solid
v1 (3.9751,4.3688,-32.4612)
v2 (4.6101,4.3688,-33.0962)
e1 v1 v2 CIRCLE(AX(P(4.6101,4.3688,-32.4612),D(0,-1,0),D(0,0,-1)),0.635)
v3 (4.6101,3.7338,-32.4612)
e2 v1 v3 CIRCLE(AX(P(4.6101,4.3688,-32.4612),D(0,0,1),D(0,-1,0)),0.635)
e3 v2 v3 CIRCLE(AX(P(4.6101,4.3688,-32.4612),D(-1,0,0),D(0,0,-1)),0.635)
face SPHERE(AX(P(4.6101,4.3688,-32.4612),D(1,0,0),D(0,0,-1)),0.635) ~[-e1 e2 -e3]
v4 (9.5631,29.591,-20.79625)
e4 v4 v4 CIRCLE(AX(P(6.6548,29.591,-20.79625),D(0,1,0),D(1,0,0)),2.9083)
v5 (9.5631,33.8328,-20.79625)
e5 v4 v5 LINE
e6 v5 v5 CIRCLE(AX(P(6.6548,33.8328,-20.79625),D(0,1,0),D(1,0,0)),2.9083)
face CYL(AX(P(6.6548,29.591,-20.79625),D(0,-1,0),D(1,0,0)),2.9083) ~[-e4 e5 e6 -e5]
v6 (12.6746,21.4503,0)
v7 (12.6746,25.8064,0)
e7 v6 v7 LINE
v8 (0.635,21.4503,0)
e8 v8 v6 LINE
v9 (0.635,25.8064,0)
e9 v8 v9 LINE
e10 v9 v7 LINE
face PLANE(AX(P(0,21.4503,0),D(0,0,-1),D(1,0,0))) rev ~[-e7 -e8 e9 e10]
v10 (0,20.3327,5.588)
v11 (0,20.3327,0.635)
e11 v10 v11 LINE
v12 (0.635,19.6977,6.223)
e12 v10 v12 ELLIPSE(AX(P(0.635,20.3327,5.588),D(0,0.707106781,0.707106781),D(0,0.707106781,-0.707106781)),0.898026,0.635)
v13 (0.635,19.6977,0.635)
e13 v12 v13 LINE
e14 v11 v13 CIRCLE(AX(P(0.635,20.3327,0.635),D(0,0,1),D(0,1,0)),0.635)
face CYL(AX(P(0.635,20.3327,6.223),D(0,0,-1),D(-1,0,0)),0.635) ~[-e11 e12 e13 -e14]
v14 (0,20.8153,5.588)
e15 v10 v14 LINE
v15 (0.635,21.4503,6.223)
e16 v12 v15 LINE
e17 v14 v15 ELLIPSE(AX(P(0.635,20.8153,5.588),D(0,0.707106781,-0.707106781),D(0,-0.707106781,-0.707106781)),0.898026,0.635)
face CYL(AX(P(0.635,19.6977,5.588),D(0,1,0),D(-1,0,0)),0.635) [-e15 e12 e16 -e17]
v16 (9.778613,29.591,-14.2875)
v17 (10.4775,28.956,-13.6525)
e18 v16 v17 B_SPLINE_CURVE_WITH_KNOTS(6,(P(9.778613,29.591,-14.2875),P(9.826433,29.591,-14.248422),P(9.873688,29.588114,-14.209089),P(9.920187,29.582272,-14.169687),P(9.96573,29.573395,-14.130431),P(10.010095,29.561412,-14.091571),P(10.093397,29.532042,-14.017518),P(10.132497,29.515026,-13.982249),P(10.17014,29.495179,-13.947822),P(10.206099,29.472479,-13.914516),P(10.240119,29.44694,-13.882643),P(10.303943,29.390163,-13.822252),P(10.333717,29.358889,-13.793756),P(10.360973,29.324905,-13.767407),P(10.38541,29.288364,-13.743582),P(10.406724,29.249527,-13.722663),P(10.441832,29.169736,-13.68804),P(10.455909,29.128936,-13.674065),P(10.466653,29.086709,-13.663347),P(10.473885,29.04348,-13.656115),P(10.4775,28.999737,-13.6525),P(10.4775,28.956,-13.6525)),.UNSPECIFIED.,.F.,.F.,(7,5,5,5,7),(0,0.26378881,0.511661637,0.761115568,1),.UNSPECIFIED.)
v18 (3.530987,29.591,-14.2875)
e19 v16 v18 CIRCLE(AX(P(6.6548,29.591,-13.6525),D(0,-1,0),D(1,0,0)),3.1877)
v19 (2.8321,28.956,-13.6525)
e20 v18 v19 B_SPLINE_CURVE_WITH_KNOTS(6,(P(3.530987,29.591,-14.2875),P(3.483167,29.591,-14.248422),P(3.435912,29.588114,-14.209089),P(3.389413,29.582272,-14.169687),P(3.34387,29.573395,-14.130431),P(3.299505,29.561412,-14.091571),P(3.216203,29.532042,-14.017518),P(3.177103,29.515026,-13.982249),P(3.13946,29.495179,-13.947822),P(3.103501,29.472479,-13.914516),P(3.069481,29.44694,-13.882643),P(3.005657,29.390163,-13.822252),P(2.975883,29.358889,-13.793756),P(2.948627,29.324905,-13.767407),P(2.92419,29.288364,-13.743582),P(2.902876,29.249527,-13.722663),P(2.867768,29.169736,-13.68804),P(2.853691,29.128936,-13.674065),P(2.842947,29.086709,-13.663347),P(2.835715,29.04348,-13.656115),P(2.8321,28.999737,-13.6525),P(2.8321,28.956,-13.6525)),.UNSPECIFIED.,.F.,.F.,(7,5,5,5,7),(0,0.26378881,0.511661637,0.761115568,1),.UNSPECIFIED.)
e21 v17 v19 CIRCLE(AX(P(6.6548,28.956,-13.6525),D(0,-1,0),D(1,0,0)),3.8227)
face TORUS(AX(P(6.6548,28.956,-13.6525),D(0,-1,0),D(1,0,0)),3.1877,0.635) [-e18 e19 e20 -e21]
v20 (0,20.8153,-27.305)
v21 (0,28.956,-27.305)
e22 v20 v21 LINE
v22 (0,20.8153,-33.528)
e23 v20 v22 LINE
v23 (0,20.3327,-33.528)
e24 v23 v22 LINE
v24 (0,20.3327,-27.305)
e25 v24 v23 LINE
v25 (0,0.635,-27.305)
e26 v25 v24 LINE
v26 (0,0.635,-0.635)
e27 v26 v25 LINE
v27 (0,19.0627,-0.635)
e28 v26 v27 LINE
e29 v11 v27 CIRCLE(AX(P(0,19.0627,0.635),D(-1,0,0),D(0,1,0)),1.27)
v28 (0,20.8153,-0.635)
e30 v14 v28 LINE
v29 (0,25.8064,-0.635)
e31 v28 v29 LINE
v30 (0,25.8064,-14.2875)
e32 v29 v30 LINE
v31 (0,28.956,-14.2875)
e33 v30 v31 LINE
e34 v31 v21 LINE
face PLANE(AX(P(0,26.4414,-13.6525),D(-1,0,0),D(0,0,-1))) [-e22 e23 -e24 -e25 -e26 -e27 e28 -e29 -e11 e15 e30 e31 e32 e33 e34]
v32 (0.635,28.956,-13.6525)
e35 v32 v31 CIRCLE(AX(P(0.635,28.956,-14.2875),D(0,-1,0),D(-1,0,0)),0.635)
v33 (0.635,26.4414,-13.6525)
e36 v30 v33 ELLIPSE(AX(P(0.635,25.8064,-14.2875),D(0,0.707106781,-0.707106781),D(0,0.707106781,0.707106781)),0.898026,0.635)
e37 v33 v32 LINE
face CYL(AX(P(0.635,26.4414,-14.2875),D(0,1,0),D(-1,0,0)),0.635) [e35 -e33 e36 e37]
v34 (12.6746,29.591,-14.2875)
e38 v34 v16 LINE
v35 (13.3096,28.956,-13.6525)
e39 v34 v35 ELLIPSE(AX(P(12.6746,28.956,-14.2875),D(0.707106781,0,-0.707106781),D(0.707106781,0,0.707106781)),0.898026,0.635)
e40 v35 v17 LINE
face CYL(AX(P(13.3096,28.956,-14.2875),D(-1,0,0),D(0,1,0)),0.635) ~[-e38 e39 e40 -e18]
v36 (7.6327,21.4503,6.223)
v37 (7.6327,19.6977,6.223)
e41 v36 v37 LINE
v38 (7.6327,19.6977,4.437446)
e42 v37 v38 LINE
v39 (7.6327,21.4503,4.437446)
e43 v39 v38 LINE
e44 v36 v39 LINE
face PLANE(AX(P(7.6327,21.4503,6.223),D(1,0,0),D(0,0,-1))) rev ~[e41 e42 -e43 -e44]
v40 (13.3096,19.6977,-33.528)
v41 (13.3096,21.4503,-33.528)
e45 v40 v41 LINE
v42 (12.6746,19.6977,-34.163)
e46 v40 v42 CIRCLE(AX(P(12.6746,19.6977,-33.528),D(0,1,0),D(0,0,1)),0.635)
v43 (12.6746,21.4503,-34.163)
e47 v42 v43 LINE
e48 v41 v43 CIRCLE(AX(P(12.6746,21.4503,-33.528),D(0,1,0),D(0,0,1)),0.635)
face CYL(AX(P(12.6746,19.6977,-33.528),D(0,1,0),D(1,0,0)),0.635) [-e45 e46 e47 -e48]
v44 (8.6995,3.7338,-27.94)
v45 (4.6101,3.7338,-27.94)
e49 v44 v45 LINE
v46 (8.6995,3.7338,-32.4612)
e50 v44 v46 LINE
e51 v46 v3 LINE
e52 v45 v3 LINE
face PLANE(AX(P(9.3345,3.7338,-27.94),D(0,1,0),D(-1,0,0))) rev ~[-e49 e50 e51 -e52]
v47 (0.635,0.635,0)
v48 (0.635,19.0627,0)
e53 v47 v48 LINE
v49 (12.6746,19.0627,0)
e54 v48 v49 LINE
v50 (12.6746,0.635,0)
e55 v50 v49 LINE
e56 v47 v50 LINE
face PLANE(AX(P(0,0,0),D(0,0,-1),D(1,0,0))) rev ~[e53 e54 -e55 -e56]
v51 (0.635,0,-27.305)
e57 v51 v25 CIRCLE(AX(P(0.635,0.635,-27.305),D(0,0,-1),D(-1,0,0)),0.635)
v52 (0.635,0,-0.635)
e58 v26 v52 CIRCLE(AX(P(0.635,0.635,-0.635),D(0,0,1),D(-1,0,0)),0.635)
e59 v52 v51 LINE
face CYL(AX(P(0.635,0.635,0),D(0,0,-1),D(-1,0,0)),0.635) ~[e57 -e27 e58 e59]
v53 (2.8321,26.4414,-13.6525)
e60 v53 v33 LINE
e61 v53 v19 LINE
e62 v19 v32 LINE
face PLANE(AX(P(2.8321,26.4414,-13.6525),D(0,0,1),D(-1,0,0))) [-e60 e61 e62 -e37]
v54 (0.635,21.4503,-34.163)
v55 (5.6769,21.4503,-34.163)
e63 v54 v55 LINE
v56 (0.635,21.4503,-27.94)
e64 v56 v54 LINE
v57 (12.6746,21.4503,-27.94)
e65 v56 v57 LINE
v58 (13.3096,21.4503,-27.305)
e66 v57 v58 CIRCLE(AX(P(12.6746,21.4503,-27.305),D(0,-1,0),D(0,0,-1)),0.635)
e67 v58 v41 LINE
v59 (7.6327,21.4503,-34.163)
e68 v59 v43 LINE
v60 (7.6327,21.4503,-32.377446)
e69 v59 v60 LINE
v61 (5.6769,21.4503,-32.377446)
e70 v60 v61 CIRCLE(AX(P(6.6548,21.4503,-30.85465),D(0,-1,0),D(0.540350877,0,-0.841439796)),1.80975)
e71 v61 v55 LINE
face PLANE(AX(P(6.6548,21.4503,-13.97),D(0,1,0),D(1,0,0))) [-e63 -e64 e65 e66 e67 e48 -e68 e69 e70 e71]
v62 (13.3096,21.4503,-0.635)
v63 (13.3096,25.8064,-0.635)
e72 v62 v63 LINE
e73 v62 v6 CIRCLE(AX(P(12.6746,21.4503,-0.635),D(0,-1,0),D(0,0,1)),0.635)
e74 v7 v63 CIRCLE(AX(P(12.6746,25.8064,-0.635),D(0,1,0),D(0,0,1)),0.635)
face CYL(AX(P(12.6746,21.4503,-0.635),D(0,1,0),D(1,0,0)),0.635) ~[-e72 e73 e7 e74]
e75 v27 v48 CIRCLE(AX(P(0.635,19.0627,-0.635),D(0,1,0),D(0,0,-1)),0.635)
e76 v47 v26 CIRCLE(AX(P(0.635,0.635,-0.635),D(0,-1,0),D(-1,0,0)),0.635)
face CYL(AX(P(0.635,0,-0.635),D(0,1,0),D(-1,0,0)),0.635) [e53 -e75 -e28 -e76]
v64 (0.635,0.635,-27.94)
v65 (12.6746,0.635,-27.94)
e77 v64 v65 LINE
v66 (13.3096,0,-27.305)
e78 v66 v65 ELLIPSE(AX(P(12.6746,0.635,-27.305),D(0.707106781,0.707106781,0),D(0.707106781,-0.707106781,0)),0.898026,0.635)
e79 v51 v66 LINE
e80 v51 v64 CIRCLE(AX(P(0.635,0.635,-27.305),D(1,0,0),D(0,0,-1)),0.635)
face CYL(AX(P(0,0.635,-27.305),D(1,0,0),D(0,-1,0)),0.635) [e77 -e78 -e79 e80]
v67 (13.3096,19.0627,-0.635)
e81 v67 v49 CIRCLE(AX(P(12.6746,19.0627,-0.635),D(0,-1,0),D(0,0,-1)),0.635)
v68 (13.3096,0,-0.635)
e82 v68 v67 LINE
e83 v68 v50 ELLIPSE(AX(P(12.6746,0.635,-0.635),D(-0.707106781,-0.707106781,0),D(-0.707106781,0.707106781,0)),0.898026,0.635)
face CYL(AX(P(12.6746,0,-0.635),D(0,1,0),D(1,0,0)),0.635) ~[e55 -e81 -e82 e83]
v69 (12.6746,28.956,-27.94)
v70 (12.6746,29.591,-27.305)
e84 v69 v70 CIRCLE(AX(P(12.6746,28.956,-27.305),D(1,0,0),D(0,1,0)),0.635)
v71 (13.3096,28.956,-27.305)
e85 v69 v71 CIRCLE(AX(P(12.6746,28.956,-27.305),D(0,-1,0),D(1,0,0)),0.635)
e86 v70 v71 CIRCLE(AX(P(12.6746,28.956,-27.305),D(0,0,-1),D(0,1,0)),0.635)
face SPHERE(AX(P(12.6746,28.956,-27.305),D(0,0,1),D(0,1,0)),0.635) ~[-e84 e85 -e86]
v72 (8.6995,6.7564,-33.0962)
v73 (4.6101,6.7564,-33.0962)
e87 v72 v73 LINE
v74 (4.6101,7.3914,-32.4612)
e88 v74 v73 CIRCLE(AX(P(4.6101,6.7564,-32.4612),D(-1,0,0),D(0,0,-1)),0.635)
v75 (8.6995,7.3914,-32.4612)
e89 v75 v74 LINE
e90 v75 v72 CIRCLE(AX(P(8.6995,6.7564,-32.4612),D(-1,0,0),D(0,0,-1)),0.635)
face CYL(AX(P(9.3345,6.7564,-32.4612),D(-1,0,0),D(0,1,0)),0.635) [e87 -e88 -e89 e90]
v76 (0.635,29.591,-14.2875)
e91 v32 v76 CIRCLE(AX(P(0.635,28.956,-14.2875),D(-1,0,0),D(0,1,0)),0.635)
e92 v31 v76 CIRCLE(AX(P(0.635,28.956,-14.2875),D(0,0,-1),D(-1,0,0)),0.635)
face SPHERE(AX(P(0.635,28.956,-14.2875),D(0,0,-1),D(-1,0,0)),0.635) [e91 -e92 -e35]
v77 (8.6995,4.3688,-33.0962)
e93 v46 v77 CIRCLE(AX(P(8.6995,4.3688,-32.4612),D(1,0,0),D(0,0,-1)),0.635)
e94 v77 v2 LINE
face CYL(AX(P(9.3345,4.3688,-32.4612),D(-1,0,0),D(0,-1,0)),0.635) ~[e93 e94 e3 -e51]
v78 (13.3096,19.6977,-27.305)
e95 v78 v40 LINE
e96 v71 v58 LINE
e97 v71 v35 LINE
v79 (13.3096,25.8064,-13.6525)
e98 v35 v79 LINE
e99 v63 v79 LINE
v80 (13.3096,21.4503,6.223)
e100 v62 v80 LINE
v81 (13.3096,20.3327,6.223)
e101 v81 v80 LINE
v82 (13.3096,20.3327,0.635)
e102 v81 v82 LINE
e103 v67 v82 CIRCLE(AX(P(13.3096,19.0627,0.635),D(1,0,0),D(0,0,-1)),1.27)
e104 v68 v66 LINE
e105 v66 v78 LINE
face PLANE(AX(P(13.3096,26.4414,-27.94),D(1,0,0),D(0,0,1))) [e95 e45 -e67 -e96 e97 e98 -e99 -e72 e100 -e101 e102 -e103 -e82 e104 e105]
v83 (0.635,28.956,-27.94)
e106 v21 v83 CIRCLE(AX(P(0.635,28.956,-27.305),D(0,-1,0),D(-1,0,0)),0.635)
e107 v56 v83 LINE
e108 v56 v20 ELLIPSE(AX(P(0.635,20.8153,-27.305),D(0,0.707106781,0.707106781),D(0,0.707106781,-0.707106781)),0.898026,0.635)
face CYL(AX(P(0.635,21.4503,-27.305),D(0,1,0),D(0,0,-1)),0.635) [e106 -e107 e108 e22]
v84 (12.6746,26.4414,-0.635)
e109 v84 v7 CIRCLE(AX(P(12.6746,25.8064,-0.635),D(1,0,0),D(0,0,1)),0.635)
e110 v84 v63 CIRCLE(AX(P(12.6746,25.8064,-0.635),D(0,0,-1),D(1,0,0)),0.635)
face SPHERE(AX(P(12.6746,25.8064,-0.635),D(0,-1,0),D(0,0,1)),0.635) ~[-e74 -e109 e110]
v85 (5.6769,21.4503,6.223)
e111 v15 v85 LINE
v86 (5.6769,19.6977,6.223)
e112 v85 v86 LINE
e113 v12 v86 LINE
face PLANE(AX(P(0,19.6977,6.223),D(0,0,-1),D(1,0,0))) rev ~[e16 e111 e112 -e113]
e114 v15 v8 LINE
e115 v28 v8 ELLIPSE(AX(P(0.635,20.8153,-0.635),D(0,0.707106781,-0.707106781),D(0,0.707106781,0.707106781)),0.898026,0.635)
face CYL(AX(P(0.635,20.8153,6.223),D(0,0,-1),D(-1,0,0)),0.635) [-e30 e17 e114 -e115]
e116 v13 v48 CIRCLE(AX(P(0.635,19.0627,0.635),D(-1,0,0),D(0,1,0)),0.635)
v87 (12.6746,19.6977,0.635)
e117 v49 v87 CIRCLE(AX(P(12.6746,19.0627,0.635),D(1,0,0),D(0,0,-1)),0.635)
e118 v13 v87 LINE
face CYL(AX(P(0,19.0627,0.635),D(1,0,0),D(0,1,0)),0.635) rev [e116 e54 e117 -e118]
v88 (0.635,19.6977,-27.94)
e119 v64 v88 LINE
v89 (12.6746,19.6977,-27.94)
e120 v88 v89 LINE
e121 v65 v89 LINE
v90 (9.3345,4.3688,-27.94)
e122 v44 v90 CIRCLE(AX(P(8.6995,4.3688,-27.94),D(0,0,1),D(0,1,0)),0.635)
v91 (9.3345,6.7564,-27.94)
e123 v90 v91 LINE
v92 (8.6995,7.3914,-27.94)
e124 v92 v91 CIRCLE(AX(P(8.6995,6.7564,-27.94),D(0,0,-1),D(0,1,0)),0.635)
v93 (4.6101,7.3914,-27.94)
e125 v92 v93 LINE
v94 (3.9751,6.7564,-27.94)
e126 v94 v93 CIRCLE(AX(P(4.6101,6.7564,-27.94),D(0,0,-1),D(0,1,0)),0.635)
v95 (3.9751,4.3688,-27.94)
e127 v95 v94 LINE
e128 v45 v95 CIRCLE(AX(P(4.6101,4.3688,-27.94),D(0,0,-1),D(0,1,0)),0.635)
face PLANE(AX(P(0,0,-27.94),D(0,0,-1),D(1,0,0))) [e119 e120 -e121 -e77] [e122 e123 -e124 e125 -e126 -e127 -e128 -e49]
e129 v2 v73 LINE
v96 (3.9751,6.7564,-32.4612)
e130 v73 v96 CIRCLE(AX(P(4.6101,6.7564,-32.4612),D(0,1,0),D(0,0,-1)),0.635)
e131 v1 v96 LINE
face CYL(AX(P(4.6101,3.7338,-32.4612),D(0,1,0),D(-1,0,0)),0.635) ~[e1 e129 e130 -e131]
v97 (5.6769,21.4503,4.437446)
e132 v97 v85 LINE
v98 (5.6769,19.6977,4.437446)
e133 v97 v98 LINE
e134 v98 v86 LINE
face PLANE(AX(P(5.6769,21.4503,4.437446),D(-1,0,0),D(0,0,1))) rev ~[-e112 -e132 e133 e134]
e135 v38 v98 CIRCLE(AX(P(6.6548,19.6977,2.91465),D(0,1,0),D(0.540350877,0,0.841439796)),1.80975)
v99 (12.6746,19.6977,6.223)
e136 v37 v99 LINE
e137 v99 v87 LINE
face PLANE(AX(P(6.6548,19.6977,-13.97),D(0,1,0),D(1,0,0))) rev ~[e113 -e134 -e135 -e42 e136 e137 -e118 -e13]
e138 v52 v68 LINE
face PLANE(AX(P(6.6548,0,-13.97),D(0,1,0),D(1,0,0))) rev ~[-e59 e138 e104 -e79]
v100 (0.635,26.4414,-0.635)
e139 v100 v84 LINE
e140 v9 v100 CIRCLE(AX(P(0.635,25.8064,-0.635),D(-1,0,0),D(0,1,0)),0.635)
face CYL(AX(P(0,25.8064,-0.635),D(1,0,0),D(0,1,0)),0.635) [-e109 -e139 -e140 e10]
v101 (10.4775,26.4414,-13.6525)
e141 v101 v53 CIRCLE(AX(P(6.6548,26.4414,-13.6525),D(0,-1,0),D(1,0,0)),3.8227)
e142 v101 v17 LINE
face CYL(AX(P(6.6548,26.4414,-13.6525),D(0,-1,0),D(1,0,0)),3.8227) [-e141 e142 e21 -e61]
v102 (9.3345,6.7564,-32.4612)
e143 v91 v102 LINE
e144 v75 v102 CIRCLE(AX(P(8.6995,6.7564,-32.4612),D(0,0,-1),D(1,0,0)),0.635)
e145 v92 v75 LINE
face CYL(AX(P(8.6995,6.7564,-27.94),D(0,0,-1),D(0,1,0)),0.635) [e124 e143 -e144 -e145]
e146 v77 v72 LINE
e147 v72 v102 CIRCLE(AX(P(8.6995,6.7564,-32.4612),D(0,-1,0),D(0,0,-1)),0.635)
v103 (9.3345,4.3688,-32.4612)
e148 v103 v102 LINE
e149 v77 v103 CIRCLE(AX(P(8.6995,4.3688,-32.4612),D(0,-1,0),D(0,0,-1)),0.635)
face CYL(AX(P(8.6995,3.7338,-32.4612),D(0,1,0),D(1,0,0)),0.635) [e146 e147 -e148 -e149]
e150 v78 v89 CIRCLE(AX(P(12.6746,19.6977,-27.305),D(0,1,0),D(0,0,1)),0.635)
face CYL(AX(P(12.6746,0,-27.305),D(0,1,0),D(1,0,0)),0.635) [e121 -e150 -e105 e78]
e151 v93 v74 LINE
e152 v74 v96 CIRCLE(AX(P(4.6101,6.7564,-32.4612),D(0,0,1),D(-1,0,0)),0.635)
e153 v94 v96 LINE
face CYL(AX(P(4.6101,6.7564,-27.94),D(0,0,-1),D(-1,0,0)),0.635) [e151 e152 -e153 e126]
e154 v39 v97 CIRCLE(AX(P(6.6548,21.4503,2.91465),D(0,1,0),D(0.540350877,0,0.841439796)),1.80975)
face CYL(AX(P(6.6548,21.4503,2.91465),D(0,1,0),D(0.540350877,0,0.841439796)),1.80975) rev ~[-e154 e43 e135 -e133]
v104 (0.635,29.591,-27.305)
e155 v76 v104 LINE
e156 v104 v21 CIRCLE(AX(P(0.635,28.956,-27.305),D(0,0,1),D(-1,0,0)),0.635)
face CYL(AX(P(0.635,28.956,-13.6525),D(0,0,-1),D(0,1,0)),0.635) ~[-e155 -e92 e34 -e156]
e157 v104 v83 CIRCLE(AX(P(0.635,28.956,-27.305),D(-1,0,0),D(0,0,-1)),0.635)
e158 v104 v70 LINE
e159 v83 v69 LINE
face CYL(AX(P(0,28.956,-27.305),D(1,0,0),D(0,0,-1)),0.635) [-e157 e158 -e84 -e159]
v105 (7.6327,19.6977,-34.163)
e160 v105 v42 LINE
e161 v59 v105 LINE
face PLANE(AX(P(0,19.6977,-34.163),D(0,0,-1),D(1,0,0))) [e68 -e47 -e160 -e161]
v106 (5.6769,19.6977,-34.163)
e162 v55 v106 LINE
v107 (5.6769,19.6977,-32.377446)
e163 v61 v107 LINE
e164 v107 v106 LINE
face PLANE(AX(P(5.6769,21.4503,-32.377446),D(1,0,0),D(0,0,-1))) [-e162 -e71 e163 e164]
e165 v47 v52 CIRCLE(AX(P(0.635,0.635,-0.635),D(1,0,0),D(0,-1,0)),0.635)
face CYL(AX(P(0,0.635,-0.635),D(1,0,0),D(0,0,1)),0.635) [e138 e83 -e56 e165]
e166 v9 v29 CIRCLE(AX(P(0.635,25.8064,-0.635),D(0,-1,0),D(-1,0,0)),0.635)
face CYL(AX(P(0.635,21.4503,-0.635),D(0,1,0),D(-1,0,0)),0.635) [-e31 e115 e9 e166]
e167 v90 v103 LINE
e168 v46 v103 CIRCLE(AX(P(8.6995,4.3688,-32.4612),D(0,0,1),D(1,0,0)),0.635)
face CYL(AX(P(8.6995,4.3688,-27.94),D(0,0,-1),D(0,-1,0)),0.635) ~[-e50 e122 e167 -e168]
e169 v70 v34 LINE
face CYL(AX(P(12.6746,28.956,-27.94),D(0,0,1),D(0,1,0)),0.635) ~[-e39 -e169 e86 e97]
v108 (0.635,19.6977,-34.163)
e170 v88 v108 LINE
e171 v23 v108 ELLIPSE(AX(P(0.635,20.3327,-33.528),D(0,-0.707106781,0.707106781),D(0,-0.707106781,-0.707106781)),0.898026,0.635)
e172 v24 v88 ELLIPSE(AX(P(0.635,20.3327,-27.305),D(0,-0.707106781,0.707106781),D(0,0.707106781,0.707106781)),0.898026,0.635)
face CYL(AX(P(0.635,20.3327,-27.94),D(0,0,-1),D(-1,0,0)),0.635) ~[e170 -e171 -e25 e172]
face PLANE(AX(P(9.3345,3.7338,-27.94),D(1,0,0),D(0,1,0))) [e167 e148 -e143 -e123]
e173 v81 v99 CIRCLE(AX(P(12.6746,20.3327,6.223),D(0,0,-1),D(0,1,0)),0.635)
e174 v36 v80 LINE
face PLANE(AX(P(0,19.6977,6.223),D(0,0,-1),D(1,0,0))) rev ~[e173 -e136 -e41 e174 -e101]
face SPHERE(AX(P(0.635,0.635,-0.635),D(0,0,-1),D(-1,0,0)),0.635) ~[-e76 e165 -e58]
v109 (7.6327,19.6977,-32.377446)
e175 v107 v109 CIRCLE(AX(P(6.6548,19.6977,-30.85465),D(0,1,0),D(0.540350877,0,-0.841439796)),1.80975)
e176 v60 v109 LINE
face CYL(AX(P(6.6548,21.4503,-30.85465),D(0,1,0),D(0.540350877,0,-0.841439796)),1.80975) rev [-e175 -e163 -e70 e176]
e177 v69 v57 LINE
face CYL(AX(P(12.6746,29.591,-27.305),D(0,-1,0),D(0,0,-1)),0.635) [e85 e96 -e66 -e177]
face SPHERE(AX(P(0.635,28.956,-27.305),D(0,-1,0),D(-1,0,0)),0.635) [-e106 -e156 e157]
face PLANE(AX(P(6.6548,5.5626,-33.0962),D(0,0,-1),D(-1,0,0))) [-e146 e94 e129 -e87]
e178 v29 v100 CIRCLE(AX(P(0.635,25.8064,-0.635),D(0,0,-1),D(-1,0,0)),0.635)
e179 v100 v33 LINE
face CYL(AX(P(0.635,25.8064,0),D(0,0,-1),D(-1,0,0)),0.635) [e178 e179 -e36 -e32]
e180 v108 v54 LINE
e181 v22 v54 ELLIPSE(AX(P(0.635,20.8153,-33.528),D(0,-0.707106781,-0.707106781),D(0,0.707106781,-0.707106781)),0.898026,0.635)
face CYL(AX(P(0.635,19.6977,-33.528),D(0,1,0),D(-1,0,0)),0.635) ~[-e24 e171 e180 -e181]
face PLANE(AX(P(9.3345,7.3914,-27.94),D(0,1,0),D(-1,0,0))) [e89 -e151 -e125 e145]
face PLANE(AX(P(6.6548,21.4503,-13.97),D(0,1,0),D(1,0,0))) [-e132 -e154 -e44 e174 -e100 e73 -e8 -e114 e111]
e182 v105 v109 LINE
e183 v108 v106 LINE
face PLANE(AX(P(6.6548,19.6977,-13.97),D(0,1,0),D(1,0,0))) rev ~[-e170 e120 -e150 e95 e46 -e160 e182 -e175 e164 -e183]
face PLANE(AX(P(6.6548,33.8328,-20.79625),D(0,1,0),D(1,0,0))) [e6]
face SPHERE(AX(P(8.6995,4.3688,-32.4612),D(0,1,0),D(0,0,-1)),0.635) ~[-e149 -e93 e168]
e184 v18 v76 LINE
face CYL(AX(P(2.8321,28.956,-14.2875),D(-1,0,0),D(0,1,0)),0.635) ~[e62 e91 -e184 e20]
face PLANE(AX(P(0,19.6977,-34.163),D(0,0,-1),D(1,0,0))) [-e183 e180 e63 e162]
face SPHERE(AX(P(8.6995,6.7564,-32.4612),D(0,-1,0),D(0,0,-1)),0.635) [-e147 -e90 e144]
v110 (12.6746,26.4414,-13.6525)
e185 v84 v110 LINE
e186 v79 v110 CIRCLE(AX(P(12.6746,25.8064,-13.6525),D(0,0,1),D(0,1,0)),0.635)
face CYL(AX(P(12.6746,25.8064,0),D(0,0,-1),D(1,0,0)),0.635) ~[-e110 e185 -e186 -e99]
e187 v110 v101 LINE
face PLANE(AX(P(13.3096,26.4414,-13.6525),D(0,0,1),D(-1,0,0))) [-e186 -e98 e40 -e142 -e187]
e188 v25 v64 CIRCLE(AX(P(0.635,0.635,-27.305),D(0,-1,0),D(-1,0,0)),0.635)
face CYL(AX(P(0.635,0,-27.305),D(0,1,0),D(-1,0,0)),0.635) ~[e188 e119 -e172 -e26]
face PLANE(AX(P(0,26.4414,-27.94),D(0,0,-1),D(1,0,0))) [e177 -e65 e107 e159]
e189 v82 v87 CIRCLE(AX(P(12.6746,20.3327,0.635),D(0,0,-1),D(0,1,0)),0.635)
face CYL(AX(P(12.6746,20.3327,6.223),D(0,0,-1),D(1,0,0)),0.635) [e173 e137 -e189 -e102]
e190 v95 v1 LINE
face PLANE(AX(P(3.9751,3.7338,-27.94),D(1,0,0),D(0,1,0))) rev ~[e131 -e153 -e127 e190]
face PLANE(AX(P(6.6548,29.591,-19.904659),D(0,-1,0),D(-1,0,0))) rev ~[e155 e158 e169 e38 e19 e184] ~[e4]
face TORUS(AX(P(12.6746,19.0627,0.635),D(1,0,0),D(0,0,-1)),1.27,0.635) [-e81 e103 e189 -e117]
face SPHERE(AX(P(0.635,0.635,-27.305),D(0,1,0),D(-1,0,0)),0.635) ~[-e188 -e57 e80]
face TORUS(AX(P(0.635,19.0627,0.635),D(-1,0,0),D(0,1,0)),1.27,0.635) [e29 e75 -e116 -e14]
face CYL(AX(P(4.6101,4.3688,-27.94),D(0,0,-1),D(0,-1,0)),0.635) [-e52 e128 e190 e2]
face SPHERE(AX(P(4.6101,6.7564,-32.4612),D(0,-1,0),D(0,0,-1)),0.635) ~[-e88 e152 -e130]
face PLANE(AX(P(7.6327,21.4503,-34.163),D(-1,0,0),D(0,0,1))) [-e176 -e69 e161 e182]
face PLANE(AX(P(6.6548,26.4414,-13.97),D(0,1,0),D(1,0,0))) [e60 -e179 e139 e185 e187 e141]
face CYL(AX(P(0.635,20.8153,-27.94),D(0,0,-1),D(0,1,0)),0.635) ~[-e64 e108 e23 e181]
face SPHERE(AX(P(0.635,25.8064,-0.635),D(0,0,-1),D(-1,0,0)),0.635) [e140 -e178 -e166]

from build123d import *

# Parameters (mm, degrees)
BASE_SKETCH_W           = 13.3096
BASE_SKETCH_H           = 27.94
BASE_DEPTH              = 19.6977
MOUNTING_POINT_SKETCH_W = 13.3096
MOUNTING_POINT_SKETCH_H = 40.386
MOUNTING_POINT_DEPTH    = 1.7526
MOUNTING_HOLES_DEPTH    = 22.4503
MIDDLE_SKETCH_W         = 13.3096
MIDDLE_SKETCH_H         = 27.94
MIDDLE_DEPTH            = 4.9911
TOP_EXTRUDE_DEPTH       = 3.1496
GEAR_SKETCH_R           = 2.9083
GEAR_DEPTH              = 4.2418
SERVO_CABLE_SKETCH_W    = 5.3594
SERVO_CABLE_SKETCH_H    = 3.6576
SEVO_CABLE_DEPTH        = 5.1562
FILLET1_R               = 0.635


with BuildPart() as part:
    # Base Sketch → Base (new body)
    with BuildSketch(Plane(origin=(0, 0, 0), x_dir=(1, 0, 0), z_dir=(0, 1, 0))):
        with Locations((6.6548, 13.97)):
            Rectangle(BASE_SKETCH_W, BASE_SKETCH_H)
    extrude(amount=BASE_DEPTH)

    # Mounting Point Sketch → Mounting Point (add)
    with BuildSketch(Plane(origin=(0, 19.6977, 0), x_dir=(1, 0, 0), z_dir=(0, 1, 0))):
        with Locations((6.6548, 13.97)):
            Rectangle(MOUNTING_POINT_SKETCH_W, MOUNTING_POINT_SKETCH_H)
    extrude(amount=MOUNTING_POINT_DEPTH)

    # Mounting Holes Sketch → Mounting Holes (cut, through all)
    with BuildSketch(Plane(origin=(0, 21.4503, 0), x_dir=(1, 0, 0), z_dir=(0, 1, 0))):
        with BuildLine():
            Line((5.6769, 34.163), (7.6327, 34.163))
            Line((7.6327, 34.163), (7.6327, 32.37744567))
            ThreePointArc((7.6327, 32.37744567), (6.6548, 29.0449), (5.6769, 32.37744567))
            Line((5.6769, 32.37744567), (5.6769, 34.163))
        make_face()
        with BuildLine():
            Line((5.6769, -6.223), (7.6327, -6.223))
            Line((7.6327, -6.223), (7.6327, -4.43744567))
            ThreePointArc((7.6327, -4.43744567), (6.6548, -1.1049), (5.6769, -4.43744567))
            Line((5.6769, -4.43744567), (5.6769, -6.223))
        make_face()
    extrude(amount=-MOUNTING_HOLES_DEPTH, mode=Mode.SUBTRACT)

    # Middle Sketch → Middle (add)
    with BuildSketch(Plane(origin=(0, 21.4503, 0), x_dir=(1, 0, 0), z_dir=(0, 1, 0))):
        with Locations((6.6548, 13.97)):
            Rectangle(MIDDLE_SKETCH_W, MIDDLE_SKETCH_H)
    extrude(amount=MIDDLE_DEPTH)

    # Top Sketch → Top extrude (add)
    with BuildSketch(Plane(origin=(0, 26.4414, 0), x_dir=(1, 0, 0), z_dir=(0, 1, 0))):
        with BuildLine():
            Line((0, 27.94), (13.3096, 27.94))
            Line((13.3096, 27.94), (13.3096, 13.6525))
            Line((13.3096, 13.6525), (10.4775, 13.6525))
            ThreePointArc((10.4775, 13.6525), (6.6548, 9.8298), (2.8321, 13.6525))
            Line((2.8321, 13.6525), (0, 13.6525))
            Line((0, 13.6525), (0, 27.94))
        make_face()
    extrude(amount=TOP_EXTRUDE_DEPTH)

    # Gear Sketch → Gear (add)
    with BuildSketch(Plane(origin=(0, 29.591, 0), x_dir=(1, 0, 0), z_dir=(0, 1, 0))):
        with Locations((6.6548, 20.79625)):
            Circle(GEAR_SKETCH_R)
    extrude(amount=GEAR_DEPTH)

    # Servo Cable Sketch → Sevo Cable (add)
    with BuildSketch(Plane(origin=(0, 0, -27.94), x_dir=(-1, 0, 0), z_dir=(0, 0, -1))):
        with Locations((-6.6548, 5.5626)):
            Rectangle(SERVO_CABLE_SKETCH_W, SERVO_CABLE_SKETCH_H)
    extrude(amount=SEVO_CABLE_DEPTH)

    # Fillet1
    fillet1_edges = [part.edges().sort_by_distance(p)[0] for p in [
        (13.3096, 19.6977, 3.1115),
        (0, 9.84885, -27.94),
        (0, 19.6977, -31.0515),
        (0, 20.574, -34.163),
        (0, 21.4503, -31.0515),
        (0, 25.52065, -27.94),
        (0, 29.591, -20.79625),
        (0, 28.0162, -13.6525),
        (0, 26.4414, -6.82625),
        (0, 23.94585, 0),
        (0, 21.4503, 3.1115),
        (0, 20.574, 6.223),
        (0, 19.6977, 3.1115),
        (0, 0, -13.97),
        (0, 9.84885, 0),
        (6.6548, 19.6977, 0),
        (13.3096, 9.84885, 0),
        (6.6548, 0, 0),
        (9.3345, 5.5626, -33.0962),
        (6.6548, 3.7338, -33.0962),
        (3.9751, 5.5626, -33.0962),
        (6.6548, 7.3914, -33.0962),
        (3.9751, 7.3914, -30.5181),
        (3.9751, 3.7338, -30.5181),
        (9.3345, 3.7338, -30.5181),
        (9.3345, 7.3914, -30.5181),
        (6.6548, 0, -27.94),
        (13.3096, 9.84885, -27.94),
        (13.3096, 29.591, -20.79625),
        (13.3096, 23.94585, 0),
        (6.6548, 26.4414, 0),
        (13.3096, 26.4414, -6.82625),
        (11.89355, 29.591, -13.6525),
        (1.41605, 29.591, -13.6525),
        (6.6548, 29.591, -9.8298),
        (6.6548, 29.591, -27.94),
        (13.3096, 25.52065, -27.94),
        (13.3096, 20.574, -34.163),
    ]]
    fillet(fillet1_edges, radius=FILLET1_R)


solid = part.part
